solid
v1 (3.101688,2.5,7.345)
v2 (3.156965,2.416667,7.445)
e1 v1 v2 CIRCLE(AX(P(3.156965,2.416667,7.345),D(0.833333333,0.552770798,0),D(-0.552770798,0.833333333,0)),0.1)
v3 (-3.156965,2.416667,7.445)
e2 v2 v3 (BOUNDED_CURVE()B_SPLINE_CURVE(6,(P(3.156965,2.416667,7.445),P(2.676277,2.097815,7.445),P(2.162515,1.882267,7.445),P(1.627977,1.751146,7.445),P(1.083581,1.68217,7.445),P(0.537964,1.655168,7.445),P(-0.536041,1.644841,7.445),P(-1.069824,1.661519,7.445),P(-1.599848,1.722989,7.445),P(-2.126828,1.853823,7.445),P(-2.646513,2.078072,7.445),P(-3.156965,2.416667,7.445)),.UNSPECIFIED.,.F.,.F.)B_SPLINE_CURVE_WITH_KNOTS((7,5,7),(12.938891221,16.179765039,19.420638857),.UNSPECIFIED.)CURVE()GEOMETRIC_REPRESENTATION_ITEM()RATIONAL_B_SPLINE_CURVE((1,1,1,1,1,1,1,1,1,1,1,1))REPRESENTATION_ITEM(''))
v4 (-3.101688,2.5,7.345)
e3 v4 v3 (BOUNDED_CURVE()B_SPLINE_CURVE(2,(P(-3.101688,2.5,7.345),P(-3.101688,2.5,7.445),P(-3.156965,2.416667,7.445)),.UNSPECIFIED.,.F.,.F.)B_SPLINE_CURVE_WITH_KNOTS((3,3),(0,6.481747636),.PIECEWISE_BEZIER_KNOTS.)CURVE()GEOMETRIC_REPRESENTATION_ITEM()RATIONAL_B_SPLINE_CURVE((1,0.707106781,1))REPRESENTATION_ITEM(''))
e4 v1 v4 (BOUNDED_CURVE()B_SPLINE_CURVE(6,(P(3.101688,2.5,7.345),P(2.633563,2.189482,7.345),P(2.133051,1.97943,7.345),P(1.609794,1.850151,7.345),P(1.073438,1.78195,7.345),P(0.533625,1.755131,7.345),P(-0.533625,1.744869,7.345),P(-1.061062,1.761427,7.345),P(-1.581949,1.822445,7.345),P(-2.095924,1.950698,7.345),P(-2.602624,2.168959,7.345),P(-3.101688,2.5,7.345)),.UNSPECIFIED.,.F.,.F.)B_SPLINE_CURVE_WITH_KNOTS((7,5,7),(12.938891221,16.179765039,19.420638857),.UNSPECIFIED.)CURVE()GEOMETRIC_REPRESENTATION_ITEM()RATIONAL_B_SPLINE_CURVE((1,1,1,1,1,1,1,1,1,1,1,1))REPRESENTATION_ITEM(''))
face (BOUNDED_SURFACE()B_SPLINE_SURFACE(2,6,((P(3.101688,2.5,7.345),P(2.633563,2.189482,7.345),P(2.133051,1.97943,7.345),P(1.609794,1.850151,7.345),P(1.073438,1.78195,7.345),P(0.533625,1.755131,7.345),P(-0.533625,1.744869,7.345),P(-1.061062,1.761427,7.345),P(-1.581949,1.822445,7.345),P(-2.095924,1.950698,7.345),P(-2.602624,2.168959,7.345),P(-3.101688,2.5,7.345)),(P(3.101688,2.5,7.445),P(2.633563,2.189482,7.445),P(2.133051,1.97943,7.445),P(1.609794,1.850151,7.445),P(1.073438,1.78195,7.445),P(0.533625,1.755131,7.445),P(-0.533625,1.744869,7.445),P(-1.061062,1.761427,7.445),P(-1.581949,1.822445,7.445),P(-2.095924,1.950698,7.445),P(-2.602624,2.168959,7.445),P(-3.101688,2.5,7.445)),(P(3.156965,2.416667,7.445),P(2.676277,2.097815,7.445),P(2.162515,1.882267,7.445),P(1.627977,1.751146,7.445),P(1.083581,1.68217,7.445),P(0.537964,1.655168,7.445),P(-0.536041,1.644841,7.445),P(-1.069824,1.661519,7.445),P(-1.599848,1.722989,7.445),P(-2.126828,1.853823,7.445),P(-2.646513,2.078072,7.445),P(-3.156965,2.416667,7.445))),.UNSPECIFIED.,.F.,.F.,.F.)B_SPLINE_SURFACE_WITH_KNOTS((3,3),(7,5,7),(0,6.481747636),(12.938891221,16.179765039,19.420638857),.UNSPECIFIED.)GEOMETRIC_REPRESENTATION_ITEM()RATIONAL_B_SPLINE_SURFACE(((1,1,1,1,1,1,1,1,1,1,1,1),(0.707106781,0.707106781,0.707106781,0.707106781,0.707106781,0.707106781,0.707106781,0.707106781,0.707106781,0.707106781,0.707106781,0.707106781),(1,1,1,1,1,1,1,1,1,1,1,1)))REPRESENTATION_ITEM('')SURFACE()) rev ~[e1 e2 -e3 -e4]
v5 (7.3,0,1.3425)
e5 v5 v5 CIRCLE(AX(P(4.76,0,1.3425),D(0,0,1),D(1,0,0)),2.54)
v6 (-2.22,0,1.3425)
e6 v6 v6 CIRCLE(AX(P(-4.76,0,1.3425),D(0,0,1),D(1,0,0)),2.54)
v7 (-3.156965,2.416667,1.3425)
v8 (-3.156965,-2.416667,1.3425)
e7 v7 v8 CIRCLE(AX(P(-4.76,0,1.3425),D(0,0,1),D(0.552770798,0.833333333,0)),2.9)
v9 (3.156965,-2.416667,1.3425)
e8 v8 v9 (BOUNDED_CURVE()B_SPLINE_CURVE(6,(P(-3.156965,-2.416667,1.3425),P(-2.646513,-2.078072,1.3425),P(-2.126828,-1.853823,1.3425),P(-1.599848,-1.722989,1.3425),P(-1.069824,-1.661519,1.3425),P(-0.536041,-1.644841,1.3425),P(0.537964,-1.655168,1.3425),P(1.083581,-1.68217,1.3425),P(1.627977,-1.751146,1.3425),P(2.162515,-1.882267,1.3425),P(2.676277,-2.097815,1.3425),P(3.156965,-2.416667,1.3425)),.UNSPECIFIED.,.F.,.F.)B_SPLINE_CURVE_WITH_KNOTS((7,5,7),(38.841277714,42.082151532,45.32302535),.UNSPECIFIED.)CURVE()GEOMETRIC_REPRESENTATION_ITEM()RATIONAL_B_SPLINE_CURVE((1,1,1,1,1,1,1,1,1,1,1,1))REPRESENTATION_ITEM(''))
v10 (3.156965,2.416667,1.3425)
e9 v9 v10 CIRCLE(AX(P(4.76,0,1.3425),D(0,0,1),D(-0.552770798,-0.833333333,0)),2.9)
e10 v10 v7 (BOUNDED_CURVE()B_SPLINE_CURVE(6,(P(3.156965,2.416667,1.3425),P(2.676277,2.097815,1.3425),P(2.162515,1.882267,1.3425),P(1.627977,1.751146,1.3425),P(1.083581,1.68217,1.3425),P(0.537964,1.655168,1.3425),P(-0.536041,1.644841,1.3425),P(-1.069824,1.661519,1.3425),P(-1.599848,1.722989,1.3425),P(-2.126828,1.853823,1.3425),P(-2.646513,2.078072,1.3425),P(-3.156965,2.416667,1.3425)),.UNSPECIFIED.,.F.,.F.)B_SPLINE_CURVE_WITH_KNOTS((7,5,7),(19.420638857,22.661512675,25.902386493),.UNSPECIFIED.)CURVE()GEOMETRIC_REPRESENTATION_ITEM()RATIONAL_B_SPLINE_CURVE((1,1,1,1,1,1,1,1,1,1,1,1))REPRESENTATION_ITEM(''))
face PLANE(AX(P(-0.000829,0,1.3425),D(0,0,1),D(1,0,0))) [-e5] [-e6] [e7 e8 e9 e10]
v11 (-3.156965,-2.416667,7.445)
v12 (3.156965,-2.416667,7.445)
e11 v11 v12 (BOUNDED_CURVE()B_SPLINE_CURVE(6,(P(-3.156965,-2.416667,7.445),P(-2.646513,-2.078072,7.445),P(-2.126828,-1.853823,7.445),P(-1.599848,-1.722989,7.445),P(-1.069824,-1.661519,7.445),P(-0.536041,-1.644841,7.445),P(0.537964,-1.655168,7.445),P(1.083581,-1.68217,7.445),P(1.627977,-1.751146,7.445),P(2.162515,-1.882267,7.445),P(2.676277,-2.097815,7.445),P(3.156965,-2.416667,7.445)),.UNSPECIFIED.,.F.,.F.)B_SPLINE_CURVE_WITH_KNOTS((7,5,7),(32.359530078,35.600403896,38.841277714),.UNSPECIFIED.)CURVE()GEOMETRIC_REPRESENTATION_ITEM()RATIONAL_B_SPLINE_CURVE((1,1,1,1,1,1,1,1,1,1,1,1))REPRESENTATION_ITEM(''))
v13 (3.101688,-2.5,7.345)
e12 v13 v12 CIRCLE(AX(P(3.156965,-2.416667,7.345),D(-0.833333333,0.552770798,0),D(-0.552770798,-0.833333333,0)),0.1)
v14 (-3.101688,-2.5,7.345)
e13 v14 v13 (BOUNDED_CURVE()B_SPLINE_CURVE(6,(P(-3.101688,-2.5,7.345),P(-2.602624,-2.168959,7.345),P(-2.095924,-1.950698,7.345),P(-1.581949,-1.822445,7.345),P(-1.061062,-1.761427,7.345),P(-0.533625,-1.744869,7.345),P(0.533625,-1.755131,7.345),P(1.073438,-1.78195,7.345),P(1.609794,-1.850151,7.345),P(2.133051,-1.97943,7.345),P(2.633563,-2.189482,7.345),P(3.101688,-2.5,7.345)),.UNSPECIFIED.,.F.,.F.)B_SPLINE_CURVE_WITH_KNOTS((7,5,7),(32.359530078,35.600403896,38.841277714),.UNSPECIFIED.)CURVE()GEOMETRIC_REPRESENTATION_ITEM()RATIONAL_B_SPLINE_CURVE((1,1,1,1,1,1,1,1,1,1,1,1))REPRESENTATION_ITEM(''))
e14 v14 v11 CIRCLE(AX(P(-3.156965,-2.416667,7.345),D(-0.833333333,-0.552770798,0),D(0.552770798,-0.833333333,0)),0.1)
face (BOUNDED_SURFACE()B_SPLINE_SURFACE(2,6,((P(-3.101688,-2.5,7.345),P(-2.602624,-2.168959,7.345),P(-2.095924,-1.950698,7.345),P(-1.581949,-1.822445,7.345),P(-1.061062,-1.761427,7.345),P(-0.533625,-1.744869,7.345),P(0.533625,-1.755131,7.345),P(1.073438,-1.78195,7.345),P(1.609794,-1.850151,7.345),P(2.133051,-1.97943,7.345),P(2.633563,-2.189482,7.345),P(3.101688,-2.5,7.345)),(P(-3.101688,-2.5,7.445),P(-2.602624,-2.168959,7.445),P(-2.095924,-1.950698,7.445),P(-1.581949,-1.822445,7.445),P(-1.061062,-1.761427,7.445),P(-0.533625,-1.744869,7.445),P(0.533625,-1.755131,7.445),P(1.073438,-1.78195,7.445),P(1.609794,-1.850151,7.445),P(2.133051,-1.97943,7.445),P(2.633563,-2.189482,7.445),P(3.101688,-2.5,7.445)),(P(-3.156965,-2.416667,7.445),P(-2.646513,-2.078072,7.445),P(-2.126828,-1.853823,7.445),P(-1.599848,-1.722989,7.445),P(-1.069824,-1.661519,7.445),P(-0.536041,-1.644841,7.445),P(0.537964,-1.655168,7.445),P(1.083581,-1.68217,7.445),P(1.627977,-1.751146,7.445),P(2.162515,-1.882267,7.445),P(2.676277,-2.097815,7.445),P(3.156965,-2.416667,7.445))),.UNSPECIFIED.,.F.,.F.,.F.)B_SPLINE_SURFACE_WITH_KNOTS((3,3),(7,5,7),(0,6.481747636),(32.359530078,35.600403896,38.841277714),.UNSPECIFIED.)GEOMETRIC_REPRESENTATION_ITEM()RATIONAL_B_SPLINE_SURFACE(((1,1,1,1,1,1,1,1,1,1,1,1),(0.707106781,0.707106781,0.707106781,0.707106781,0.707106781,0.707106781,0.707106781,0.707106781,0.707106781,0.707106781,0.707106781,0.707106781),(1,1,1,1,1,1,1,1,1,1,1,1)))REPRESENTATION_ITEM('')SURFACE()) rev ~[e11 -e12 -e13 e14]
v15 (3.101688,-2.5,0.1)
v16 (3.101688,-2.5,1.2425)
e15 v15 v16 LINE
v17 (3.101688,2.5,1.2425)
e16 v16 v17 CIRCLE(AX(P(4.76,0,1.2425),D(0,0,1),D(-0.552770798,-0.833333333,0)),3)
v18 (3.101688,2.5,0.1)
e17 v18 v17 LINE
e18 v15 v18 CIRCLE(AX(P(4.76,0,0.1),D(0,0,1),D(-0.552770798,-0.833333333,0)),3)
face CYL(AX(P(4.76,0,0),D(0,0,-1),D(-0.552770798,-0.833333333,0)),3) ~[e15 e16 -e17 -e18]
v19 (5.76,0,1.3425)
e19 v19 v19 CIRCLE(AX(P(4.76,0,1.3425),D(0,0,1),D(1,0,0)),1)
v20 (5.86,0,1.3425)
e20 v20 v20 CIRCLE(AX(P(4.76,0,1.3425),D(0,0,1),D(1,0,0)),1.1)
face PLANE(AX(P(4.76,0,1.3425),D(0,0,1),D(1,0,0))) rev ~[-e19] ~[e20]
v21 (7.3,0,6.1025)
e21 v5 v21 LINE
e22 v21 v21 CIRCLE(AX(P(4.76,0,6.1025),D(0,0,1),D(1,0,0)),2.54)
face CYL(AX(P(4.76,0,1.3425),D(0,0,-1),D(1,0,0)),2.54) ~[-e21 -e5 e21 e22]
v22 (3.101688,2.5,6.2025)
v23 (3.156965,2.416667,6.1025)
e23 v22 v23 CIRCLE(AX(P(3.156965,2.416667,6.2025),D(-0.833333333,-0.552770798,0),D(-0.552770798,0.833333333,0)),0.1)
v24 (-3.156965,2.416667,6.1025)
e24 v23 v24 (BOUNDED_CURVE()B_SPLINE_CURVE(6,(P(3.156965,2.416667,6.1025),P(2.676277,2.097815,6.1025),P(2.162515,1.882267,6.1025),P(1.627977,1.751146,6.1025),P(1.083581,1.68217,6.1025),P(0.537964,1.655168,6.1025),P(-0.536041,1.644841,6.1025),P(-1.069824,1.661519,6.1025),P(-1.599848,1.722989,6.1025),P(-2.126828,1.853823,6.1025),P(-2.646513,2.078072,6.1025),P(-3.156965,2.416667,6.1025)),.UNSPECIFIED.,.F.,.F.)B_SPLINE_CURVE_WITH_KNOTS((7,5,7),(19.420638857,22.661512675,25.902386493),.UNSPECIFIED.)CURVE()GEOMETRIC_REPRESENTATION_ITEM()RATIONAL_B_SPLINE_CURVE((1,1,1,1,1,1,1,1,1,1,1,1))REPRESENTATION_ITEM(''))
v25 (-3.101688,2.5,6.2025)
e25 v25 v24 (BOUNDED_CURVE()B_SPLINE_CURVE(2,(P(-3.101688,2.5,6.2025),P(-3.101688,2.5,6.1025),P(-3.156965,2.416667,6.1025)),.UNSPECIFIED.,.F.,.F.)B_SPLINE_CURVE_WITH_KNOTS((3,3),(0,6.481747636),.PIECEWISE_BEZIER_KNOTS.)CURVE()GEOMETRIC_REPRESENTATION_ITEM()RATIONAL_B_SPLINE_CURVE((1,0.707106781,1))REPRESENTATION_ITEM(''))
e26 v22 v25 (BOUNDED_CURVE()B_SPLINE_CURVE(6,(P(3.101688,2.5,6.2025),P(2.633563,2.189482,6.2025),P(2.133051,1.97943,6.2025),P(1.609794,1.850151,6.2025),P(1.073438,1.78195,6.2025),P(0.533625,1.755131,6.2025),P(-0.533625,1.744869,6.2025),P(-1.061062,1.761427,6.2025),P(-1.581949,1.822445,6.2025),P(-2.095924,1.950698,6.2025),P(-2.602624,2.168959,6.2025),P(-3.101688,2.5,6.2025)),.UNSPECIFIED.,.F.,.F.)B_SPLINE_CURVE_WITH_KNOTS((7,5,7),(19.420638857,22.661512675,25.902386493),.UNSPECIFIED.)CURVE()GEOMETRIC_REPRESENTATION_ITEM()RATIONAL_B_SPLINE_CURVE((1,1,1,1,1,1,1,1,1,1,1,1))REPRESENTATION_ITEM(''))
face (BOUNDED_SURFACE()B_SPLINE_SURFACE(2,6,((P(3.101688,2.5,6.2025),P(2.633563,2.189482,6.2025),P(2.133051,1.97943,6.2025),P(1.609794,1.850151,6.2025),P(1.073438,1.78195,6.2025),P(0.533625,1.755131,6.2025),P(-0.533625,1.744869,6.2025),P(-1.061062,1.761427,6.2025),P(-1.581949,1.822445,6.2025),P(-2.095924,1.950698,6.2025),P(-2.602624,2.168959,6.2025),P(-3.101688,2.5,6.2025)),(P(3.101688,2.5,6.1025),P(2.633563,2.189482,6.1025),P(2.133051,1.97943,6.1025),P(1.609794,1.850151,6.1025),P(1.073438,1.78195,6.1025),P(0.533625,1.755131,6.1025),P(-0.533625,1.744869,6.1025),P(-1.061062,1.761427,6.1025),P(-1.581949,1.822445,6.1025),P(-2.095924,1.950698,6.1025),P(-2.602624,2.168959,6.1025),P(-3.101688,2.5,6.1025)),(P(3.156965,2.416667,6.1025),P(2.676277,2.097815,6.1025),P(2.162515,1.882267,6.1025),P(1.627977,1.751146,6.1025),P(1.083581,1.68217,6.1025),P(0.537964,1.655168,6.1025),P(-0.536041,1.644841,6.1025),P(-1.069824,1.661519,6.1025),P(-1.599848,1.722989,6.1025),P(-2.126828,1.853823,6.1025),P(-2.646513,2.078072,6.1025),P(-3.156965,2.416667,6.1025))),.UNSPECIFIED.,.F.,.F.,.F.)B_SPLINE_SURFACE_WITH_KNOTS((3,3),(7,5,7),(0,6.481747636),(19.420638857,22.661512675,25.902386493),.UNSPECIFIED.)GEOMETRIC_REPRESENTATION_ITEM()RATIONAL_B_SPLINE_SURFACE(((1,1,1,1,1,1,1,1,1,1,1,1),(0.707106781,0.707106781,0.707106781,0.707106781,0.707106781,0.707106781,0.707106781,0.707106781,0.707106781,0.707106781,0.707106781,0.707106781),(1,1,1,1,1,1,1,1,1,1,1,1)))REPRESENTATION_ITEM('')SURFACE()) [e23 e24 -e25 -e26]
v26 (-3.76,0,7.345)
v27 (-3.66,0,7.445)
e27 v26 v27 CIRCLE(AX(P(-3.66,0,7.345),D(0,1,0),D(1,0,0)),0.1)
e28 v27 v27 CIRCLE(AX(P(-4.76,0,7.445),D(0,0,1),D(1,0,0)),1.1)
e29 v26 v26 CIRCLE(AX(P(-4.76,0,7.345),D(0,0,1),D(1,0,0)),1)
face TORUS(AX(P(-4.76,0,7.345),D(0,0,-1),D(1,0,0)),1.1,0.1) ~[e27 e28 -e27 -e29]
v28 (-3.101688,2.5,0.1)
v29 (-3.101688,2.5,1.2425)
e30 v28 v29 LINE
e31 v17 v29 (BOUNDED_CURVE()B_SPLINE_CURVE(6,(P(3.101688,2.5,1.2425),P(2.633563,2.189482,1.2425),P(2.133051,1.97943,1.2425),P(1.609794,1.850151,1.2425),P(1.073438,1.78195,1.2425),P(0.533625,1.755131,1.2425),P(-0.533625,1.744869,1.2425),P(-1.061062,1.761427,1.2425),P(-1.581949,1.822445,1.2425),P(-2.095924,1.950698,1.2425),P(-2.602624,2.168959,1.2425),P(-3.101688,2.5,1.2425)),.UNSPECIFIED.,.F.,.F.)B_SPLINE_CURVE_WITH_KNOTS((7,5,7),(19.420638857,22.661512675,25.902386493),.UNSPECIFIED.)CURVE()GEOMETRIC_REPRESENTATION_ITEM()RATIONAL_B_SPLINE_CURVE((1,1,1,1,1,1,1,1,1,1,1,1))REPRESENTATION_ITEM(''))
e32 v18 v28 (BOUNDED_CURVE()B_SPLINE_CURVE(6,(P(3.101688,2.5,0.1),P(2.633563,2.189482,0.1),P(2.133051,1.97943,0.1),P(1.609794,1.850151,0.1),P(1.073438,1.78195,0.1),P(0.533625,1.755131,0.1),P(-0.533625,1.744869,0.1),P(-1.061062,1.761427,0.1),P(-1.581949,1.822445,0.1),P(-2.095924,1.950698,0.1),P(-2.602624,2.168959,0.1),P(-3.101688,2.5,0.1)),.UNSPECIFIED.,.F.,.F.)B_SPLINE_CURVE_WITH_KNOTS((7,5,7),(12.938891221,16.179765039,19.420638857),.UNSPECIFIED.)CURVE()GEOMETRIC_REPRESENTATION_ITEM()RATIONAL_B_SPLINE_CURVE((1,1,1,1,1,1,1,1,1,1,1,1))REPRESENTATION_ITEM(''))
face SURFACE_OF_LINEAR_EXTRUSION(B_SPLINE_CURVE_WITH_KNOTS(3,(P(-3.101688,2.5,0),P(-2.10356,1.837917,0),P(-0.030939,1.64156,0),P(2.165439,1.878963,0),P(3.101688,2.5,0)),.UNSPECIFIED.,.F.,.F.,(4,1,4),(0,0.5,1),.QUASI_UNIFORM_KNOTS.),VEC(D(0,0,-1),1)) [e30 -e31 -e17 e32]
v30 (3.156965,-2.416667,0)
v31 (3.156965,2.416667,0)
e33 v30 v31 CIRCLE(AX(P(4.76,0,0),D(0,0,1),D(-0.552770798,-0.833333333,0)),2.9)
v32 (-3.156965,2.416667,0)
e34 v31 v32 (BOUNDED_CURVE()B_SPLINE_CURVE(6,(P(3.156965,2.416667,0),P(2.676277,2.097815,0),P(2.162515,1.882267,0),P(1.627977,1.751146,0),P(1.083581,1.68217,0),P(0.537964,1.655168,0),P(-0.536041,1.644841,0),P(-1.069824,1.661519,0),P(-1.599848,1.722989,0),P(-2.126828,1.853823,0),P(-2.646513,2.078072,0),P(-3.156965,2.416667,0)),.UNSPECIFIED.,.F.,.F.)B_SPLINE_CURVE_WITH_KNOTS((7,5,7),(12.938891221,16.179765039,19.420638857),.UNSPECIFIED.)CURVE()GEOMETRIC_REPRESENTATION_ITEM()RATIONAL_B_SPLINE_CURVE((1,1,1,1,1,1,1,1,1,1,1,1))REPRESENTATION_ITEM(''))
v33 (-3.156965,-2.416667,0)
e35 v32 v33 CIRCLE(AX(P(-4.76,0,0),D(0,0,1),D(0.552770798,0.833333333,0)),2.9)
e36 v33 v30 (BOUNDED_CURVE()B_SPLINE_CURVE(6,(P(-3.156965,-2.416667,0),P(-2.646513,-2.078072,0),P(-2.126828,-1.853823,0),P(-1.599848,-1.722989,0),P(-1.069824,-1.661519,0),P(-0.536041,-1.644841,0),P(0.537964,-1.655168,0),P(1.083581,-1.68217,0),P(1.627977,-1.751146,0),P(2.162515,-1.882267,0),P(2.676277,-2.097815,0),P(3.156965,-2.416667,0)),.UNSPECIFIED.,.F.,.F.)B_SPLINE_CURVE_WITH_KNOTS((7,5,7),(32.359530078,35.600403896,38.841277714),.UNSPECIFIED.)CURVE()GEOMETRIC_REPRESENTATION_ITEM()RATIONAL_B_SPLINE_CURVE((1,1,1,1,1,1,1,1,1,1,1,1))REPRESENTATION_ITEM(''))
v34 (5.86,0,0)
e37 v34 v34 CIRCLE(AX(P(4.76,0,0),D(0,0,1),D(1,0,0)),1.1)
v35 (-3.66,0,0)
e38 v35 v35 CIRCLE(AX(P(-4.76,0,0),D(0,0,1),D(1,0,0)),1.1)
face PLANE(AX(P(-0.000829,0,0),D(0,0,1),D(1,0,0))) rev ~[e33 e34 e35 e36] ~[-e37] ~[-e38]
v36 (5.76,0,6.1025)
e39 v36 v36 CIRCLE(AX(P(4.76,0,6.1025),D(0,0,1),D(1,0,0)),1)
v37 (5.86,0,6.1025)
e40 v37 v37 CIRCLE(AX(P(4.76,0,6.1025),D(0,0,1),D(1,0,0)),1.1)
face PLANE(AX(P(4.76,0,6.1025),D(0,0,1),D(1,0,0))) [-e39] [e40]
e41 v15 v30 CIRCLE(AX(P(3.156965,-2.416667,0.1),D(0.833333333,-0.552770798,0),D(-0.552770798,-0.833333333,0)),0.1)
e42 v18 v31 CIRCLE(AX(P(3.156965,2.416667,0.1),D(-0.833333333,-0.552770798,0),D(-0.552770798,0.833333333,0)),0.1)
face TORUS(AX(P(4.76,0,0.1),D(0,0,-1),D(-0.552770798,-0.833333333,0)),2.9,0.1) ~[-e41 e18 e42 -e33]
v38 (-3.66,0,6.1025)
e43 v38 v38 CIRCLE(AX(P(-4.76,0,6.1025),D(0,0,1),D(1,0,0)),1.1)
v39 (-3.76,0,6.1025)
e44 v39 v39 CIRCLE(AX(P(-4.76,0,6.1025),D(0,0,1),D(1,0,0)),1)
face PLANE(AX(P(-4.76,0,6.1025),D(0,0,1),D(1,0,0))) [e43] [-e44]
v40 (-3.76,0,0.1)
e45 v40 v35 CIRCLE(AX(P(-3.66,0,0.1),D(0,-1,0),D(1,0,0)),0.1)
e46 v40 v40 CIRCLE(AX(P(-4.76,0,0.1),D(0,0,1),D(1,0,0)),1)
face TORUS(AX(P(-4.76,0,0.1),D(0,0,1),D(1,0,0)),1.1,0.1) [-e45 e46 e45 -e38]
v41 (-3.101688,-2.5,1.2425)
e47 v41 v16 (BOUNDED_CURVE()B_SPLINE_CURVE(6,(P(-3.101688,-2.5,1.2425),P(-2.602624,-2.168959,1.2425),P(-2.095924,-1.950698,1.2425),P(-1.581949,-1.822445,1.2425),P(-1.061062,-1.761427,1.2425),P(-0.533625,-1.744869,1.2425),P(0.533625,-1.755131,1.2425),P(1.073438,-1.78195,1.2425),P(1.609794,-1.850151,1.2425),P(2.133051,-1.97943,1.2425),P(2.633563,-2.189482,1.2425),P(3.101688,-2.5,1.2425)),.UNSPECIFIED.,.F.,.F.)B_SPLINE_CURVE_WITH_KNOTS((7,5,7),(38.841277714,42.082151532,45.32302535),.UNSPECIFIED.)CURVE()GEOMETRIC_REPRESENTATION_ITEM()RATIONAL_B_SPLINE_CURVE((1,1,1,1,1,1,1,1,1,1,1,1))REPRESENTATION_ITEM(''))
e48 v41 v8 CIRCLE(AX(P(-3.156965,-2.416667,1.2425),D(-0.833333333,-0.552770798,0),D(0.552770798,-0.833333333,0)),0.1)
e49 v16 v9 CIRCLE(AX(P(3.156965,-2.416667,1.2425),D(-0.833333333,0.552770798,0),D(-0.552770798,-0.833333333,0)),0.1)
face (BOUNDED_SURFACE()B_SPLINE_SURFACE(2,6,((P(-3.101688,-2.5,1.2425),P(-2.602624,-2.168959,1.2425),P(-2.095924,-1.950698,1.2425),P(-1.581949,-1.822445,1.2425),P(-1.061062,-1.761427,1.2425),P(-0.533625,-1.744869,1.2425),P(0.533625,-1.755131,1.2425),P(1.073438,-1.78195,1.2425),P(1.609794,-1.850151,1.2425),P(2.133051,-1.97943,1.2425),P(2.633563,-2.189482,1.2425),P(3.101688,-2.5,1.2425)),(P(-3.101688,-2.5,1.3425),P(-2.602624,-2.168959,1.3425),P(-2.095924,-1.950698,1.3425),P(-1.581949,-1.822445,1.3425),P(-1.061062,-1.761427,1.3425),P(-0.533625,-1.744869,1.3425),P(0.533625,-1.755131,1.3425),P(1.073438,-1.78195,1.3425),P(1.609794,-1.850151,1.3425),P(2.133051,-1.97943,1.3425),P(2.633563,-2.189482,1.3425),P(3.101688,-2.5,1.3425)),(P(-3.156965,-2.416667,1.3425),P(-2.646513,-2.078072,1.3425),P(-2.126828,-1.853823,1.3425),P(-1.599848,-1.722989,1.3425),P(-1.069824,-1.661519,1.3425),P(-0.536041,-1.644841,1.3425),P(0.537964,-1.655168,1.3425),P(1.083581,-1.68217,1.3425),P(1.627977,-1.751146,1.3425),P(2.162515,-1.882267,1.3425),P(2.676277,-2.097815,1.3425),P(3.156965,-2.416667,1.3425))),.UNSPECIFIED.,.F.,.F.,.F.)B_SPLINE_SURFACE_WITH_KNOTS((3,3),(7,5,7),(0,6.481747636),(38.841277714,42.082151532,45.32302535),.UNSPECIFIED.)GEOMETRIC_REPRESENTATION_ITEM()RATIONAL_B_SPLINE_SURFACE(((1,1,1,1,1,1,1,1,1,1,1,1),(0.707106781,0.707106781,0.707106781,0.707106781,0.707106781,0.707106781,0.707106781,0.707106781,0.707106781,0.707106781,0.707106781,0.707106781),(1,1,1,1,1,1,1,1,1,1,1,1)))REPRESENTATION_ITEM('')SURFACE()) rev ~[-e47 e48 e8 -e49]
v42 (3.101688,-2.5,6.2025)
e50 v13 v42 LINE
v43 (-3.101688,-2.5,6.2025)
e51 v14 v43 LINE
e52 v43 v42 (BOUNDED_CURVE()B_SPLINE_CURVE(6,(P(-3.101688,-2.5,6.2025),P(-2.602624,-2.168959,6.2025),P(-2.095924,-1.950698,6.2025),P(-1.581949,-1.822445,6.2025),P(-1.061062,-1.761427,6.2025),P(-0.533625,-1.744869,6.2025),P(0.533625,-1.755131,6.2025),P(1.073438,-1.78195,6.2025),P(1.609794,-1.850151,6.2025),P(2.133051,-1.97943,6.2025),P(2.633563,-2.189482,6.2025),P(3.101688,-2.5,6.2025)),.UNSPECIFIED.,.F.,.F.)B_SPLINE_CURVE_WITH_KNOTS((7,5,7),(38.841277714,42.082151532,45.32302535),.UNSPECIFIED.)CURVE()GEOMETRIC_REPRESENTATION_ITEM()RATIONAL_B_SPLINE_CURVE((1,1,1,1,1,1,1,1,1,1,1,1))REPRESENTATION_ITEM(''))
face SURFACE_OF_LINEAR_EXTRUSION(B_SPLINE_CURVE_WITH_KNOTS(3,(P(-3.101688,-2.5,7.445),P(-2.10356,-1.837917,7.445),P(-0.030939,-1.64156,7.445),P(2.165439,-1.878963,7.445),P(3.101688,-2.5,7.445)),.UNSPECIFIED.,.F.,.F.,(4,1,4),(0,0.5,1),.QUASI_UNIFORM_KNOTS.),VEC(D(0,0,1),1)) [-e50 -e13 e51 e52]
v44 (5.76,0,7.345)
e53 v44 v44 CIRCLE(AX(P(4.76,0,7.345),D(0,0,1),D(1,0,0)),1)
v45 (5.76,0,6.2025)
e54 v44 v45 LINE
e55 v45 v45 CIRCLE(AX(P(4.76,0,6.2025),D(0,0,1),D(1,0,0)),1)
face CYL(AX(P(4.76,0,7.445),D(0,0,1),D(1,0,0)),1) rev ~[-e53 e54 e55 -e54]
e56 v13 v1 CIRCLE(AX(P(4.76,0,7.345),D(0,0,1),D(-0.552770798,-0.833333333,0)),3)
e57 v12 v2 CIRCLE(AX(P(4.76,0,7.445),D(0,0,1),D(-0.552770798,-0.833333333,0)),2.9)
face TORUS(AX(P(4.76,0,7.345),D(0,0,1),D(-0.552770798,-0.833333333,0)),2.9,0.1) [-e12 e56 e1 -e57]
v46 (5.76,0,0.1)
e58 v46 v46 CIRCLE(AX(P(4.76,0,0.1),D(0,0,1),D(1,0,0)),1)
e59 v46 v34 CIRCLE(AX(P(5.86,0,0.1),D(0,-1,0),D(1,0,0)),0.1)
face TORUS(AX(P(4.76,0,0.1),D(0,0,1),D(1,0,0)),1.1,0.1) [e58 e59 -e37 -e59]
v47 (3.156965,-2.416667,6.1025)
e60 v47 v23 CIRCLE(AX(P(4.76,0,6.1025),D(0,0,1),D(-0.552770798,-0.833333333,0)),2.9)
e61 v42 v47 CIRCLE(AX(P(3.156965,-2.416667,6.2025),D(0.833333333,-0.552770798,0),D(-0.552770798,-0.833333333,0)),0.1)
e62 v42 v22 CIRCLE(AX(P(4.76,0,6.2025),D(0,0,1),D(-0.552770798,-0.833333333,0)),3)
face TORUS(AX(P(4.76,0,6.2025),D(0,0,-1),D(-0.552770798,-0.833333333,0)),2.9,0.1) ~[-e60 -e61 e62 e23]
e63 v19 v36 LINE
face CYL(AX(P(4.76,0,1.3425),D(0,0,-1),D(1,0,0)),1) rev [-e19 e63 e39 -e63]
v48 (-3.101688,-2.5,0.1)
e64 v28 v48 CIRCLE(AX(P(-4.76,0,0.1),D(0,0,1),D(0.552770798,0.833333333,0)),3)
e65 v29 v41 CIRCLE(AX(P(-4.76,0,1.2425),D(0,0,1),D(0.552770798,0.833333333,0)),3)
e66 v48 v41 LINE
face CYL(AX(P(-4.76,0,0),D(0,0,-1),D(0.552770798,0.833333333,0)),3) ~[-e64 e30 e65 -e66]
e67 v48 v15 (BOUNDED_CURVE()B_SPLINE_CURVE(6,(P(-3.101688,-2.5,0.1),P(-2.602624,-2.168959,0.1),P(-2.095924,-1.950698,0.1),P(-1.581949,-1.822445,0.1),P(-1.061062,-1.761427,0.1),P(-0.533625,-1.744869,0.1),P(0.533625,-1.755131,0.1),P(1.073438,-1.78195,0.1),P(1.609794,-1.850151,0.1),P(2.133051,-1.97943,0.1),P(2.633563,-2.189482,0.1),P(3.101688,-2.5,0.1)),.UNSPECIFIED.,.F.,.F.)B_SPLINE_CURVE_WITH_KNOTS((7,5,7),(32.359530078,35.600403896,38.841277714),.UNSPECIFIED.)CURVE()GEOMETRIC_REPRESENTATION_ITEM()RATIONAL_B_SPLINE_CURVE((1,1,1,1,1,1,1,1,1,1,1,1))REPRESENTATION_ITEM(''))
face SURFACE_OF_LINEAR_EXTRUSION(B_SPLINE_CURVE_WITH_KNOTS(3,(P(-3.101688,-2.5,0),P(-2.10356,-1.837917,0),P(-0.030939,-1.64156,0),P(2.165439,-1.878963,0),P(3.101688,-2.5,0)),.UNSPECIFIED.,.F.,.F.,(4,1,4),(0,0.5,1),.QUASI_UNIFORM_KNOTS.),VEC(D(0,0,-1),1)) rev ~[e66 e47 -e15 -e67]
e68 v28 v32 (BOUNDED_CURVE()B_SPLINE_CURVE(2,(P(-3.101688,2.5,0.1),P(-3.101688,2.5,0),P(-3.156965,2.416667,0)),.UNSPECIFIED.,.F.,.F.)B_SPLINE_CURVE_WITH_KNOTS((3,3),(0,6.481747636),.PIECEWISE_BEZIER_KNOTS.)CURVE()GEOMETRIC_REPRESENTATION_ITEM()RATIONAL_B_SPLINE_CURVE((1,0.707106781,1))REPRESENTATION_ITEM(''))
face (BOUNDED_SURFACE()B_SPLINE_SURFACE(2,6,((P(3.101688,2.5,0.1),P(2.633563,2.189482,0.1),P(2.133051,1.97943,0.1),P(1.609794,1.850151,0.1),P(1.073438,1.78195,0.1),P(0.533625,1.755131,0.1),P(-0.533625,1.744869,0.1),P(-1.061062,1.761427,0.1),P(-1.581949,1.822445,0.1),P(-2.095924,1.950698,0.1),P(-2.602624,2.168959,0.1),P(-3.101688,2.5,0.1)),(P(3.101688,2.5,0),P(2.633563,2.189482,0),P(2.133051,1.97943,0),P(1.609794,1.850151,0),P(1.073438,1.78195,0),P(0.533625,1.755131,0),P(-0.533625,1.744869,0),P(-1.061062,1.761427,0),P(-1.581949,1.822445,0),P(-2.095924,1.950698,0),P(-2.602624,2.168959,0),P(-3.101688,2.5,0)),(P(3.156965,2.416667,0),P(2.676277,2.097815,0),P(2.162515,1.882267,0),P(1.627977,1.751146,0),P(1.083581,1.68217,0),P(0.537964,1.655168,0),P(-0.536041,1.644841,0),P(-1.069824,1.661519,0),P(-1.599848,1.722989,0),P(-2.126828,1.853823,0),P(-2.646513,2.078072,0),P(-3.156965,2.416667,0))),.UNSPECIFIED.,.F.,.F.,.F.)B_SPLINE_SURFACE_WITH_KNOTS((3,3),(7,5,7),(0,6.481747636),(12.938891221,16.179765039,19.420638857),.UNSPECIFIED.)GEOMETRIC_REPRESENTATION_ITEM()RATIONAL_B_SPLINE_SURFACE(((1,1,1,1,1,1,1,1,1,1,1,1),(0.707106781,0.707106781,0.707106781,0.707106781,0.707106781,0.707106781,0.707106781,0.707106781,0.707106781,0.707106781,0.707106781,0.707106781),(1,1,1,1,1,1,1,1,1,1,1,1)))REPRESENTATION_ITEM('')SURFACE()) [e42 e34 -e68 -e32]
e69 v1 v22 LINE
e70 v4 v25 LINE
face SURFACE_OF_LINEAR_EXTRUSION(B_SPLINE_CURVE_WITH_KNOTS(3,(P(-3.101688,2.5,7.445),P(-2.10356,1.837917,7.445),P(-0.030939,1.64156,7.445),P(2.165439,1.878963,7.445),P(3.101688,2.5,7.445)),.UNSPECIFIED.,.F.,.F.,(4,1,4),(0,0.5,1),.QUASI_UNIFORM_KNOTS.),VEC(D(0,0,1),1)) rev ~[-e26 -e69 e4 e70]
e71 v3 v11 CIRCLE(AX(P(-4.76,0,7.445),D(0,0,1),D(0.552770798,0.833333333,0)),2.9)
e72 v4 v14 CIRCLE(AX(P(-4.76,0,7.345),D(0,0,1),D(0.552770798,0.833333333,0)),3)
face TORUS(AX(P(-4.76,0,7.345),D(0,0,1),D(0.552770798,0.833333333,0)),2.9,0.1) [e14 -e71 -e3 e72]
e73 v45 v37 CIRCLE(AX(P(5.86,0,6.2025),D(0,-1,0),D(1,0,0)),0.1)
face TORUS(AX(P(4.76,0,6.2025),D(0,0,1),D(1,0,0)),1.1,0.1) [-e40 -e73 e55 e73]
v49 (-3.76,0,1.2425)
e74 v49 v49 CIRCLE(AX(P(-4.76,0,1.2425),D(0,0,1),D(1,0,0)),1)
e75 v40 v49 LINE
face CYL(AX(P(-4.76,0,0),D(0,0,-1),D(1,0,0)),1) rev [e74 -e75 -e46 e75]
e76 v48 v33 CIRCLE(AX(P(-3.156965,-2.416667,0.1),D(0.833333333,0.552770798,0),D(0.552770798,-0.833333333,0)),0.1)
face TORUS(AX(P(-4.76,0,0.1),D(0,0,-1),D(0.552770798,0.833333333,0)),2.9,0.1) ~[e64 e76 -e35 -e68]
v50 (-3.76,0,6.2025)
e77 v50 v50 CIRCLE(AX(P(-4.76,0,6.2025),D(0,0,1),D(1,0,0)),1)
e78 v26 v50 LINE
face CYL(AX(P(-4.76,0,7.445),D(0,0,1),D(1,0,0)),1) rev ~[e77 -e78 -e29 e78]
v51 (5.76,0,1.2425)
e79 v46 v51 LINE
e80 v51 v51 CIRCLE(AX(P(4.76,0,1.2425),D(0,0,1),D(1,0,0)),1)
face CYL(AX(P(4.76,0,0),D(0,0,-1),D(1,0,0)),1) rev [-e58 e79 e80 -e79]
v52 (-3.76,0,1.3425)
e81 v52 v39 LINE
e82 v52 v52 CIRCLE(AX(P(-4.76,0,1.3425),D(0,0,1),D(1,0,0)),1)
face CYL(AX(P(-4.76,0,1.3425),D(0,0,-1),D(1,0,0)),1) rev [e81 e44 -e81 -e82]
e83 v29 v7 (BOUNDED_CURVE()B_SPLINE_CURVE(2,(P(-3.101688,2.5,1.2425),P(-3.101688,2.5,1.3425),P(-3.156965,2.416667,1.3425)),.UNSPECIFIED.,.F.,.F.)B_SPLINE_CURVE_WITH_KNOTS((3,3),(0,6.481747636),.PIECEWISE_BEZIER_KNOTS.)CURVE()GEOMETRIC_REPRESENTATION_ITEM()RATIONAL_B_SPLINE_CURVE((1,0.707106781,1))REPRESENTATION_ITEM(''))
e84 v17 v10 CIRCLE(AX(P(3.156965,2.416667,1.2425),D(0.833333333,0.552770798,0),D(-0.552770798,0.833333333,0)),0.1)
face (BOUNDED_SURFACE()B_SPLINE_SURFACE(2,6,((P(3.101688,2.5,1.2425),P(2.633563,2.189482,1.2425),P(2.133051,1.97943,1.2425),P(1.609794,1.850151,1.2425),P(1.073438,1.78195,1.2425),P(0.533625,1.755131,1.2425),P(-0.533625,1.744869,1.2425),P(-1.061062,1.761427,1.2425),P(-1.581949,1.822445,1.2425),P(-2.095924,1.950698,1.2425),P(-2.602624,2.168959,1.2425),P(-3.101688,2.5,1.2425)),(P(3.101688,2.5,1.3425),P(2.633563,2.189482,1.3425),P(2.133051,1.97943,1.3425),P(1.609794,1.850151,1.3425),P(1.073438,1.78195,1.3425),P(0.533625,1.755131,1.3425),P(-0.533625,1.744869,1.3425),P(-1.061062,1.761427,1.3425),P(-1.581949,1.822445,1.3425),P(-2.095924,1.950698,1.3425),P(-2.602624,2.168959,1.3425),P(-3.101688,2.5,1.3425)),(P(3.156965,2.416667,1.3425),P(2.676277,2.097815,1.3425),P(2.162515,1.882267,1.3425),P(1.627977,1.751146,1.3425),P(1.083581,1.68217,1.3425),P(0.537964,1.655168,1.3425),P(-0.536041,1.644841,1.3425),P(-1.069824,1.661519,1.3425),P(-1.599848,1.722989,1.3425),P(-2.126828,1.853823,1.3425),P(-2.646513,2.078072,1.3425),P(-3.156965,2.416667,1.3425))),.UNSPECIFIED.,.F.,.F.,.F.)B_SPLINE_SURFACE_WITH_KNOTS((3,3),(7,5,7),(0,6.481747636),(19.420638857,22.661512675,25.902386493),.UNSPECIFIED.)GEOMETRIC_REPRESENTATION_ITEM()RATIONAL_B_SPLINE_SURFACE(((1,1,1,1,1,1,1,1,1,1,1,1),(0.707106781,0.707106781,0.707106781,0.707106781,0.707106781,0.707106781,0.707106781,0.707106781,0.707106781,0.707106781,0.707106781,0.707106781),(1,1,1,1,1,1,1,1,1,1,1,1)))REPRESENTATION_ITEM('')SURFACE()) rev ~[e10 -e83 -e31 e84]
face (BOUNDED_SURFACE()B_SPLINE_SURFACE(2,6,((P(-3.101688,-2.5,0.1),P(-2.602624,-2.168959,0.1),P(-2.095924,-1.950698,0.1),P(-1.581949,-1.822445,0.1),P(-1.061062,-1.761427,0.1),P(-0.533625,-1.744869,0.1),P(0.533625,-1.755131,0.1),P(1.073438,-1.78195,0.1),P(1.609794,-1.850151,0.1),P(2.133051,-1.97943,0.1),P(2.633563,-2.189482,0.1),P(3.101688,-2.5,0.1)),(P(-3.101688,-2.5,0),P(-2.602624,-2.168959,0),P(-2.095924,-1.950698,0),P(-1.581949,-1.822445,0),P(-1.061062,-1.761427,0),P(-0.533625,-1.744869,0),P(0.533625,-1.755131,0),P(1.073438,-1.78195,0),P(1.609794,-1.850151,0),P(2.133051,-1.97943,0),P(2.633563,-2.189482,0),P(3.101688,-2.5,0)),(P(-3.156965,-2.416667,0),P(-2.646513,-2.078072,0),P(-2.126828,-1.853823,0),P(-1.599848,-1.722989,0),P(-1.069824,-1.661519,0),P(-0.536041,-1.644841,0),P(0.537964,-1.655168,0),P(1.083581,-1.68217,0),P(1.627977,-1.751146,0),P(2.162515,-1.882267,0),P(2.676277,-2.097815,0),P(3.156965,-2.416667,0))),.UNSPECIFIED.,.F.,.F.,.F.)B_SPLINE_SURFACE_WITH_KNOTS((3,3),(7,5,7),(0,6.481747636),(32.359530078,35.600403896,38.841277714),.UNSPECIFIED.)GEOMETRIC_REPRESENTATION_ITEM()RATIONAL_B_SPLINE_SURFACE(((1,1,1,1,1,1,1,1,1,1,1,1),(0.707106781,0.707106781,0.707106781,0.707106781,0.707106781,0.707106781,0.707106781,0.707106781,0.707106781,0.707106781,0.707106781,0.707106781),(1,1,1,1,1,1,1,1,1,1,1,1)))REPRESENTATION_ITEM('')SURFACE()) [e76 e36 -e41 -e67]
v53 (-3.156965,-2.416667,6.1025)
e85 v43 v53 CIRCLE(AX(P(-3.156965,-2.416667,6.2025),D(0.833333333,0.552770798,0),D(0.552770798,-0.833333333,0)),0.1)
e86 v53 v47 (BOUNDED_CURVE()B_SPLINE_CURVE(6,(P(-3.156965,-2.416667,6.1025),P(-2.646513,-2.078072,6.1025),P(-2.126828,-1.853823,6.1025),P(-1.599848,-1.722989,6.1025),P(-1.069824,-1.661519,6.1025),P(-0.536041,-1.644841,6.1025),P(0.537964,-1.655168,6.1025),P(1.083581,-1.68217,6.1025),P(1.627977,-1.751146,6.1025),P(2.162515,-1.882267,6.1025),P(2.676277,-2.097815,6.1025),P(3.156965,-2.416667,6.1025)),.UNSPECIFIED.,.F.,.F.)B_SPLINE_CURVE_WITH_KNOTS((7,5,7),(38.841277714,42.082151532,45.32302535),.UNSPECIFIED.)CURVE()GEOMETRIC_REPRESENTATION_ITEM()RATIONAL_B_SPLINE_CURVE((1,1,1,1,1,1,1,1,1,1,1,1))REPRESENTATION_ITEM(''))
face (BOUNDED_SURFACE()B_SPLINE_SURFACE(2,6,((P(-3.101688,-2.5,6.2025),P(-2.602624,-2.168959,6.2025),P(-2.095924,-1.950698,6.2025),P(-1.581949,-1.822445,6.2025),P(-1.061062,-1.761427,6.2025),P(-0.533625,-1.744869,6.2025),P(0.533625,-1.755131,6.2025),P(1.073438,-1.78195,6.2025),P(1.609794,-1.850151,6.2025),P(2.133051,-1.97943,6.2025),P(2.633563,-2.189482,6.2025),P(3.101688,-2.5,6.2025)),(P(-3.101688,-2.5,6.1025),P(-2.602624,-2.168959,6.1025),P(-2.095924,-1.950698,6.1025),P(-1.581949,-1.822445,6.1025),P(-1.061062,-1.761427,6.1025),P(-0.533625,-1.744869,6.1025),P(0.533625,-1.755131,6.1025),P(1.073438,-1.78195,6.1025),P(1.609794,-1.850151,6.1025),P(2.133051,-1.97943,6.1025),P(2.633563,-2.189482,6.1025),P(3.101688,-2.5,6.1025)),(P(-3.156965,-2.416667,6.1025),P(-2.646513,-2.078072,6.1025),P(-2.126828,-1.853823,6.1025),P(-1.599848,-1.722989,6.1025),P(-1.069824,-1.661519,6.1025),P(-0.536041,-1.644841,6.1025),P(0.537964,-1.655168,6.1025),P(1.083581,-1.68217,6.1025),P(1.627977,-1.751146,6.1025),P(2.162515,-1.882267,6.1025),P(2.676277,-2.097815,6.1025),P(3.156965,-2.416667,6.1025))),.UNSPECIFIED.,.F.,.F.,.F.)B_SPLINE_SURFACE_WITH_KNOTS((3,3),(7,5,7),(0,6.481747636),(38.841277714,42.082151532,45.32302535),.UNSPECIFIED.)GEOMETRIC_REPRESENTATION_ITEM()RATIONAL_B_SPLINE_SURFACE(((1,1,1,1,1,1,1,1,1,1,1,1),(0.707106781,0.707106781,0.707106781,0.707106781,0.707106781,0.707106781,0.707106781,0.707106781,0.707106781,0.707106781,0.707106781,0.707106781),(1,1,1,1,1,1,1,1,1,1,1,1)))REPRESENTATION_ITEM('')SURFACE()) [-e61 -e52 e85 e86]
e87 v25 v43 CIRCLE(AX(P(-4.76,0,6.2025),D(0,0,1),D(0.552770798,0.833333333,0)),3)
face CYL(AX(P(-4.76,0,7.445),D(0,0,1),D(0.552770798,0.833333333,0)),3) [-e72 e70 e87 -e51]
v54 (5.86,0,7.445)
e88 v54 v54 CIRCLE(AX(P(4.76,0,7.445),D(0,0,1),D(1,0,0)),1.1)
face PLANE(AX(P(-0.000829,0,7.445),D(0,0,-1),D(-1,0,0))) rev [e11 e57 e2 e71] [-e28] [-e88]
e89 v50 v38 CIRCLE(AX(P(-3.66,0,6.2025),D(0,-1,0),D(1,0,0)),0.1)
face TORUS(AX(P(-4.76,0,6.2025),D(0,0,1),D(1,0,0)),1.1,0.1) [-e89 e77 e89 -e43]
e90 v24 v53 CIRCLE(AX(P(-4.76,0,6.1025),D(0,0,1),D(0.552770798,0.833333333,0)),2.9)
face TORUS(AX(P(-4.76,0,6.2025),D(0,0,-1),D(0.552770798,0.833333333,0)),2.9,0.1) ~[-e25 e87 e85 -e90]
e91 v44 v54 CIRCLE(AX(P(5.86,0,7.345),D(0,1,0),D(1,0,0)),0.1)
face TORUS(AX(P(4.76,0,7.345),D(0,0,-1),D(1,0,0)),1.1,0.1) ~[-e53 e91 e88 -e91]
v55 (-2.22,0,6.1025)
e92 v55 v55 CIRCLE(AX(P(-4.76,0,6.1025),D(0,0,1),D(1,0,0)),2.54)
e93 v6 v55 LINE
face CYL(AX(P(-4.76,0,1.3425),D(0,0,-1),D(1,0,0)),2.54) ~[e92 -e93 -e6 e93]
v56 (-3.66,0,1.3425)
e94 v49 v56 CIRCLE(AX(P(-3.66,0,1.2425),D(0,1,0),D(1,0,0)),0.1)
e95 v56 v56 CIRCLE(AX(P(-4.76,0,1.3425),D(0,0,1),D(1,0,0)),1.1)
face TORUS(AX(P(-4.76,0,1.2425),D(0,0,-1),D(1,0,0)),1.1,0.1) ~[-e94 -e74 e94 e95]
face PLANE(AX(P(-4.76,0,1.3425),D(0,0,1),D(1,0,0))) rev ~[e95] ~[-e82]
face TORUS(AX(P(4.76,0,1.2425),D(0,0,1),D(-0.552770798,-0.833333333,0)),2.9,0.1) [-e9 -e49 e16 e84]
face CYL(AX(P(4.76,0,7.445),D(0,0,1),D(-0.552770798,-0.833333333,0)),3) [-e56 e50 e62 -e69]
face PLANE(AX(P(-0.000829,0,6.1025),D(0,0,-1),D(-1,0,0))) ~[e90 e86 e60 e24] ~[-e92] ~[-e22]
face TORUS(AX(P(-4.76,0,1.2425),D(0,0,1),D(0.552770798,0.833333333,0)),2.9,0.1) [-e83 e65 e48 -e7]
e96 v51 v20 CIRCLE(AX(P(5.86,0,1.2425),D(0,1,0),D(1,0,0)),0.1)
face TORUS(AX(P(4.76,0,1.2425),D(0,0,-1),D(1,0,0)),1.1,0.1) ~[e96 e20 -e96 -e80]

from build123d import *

# Parameters (mm, degrees)
SKETCH2_R           = 1
BOSS_EXTRUDE1_DEPTH = 1.3425
FILLET1_R           = 0.1
SKETCH3_R           = 2.54
SKETCH3_R_2         = 1
BOSS_EXTRUDE2_DEPTH = 4.76


with BuildPart() as part:
    # Sketch2 → Boss-Extrude1 (new body)
    with BuildSketch(Plane.XY):
        with BuildLine():
            ThreePointArc((-3.101687605, 2.5), (-7.76, 0), (-3.101687605, -2.5))
            add(Edge.make_bspline(
                [(-3.101687605, -2.5), (-2.103560278, -1.837917233), (-0.030939489, -1.641559832), (2.165439256, -1.878963103), (3.101687605, -2.5)],
                knots=[0, 0, 0, 0, 0.5, 1, 1, 1, 1], degree=3))
            ThreePointArc((3.101687605, -2.5), (7.76, 0), (3.101687605, 2.5))
            add(Edge.make_bspline(
                [(-3.101687605, 2.5), (-2.103560278, 1.837917233), (-0.030939489, 1.641559832), (2.165439256, 1.878963103), (3.101687605, 2.5)],
                knots=[0, 0, 0, 0, 0.5, 1, 1, 1, 1], degree=3))
        make_face()
        with Locations((-4.76, 0)):
            Circle(SKETCH2_R, mode=Mode.SUBTRACT)
        with Locations((4.76, 0)):
            Circle(SKETCH2_R, mode=Mode.SUBTRACT)
    extrude(amount=BOSS_EXTRUDE1_DEPTH)

    # Fillet1
    fillet1_edges = [part.edges().sort_by_distance(p)[0] for p in [
        (-0.002993558, -1.749971501, 1.3425),
        (-5.76, 0, 0),
        (-5.76, 0, 1.3425),
        (7.76, 0, 1.3425),
        (3.76, 0, 0),
        (3.76, 0, 1.3425),
        (-0.002993558, 1.749971501, 1.3425),
        (7.76, 0, 0),
        (-0.002993558, -1.749971501, 0),
        (-7.76, 0, 0),
        (-0.002993558, 1.749971501, 0),
        (-7.76, 0, 1.3425),
    ]]
    fillet(fillet1_edges, radius=FILLET1_R)

    # Sketch3 → Boss-Extrude2 (add)
    with BuildSketch(Plane.XY.offset(1.3425)):
        with Locations((-4.76, 0)):
            Circle(SKETCH3_R)
        with Locations((-4.76, 0)):
            Circle(SKETCH3_R_2, mode=Mode.SUBTRACT)
        with Locations((4.76, 0)):
            Circle(SKETCH3_R)
        with Locations((4.76, 0)):
            Circle(SKETCH3_R_2, mode=Mode.SUBTRACT)
    extrude(amount=BOSS_EXTRUDE2_DEPTH)

    # Mirror1: part across plane


with BuildPart() as part_1:
    add(part.part)
    add(part.part.mirror(Plane.XY.offset(3.7225)))


solid = part_1.part
